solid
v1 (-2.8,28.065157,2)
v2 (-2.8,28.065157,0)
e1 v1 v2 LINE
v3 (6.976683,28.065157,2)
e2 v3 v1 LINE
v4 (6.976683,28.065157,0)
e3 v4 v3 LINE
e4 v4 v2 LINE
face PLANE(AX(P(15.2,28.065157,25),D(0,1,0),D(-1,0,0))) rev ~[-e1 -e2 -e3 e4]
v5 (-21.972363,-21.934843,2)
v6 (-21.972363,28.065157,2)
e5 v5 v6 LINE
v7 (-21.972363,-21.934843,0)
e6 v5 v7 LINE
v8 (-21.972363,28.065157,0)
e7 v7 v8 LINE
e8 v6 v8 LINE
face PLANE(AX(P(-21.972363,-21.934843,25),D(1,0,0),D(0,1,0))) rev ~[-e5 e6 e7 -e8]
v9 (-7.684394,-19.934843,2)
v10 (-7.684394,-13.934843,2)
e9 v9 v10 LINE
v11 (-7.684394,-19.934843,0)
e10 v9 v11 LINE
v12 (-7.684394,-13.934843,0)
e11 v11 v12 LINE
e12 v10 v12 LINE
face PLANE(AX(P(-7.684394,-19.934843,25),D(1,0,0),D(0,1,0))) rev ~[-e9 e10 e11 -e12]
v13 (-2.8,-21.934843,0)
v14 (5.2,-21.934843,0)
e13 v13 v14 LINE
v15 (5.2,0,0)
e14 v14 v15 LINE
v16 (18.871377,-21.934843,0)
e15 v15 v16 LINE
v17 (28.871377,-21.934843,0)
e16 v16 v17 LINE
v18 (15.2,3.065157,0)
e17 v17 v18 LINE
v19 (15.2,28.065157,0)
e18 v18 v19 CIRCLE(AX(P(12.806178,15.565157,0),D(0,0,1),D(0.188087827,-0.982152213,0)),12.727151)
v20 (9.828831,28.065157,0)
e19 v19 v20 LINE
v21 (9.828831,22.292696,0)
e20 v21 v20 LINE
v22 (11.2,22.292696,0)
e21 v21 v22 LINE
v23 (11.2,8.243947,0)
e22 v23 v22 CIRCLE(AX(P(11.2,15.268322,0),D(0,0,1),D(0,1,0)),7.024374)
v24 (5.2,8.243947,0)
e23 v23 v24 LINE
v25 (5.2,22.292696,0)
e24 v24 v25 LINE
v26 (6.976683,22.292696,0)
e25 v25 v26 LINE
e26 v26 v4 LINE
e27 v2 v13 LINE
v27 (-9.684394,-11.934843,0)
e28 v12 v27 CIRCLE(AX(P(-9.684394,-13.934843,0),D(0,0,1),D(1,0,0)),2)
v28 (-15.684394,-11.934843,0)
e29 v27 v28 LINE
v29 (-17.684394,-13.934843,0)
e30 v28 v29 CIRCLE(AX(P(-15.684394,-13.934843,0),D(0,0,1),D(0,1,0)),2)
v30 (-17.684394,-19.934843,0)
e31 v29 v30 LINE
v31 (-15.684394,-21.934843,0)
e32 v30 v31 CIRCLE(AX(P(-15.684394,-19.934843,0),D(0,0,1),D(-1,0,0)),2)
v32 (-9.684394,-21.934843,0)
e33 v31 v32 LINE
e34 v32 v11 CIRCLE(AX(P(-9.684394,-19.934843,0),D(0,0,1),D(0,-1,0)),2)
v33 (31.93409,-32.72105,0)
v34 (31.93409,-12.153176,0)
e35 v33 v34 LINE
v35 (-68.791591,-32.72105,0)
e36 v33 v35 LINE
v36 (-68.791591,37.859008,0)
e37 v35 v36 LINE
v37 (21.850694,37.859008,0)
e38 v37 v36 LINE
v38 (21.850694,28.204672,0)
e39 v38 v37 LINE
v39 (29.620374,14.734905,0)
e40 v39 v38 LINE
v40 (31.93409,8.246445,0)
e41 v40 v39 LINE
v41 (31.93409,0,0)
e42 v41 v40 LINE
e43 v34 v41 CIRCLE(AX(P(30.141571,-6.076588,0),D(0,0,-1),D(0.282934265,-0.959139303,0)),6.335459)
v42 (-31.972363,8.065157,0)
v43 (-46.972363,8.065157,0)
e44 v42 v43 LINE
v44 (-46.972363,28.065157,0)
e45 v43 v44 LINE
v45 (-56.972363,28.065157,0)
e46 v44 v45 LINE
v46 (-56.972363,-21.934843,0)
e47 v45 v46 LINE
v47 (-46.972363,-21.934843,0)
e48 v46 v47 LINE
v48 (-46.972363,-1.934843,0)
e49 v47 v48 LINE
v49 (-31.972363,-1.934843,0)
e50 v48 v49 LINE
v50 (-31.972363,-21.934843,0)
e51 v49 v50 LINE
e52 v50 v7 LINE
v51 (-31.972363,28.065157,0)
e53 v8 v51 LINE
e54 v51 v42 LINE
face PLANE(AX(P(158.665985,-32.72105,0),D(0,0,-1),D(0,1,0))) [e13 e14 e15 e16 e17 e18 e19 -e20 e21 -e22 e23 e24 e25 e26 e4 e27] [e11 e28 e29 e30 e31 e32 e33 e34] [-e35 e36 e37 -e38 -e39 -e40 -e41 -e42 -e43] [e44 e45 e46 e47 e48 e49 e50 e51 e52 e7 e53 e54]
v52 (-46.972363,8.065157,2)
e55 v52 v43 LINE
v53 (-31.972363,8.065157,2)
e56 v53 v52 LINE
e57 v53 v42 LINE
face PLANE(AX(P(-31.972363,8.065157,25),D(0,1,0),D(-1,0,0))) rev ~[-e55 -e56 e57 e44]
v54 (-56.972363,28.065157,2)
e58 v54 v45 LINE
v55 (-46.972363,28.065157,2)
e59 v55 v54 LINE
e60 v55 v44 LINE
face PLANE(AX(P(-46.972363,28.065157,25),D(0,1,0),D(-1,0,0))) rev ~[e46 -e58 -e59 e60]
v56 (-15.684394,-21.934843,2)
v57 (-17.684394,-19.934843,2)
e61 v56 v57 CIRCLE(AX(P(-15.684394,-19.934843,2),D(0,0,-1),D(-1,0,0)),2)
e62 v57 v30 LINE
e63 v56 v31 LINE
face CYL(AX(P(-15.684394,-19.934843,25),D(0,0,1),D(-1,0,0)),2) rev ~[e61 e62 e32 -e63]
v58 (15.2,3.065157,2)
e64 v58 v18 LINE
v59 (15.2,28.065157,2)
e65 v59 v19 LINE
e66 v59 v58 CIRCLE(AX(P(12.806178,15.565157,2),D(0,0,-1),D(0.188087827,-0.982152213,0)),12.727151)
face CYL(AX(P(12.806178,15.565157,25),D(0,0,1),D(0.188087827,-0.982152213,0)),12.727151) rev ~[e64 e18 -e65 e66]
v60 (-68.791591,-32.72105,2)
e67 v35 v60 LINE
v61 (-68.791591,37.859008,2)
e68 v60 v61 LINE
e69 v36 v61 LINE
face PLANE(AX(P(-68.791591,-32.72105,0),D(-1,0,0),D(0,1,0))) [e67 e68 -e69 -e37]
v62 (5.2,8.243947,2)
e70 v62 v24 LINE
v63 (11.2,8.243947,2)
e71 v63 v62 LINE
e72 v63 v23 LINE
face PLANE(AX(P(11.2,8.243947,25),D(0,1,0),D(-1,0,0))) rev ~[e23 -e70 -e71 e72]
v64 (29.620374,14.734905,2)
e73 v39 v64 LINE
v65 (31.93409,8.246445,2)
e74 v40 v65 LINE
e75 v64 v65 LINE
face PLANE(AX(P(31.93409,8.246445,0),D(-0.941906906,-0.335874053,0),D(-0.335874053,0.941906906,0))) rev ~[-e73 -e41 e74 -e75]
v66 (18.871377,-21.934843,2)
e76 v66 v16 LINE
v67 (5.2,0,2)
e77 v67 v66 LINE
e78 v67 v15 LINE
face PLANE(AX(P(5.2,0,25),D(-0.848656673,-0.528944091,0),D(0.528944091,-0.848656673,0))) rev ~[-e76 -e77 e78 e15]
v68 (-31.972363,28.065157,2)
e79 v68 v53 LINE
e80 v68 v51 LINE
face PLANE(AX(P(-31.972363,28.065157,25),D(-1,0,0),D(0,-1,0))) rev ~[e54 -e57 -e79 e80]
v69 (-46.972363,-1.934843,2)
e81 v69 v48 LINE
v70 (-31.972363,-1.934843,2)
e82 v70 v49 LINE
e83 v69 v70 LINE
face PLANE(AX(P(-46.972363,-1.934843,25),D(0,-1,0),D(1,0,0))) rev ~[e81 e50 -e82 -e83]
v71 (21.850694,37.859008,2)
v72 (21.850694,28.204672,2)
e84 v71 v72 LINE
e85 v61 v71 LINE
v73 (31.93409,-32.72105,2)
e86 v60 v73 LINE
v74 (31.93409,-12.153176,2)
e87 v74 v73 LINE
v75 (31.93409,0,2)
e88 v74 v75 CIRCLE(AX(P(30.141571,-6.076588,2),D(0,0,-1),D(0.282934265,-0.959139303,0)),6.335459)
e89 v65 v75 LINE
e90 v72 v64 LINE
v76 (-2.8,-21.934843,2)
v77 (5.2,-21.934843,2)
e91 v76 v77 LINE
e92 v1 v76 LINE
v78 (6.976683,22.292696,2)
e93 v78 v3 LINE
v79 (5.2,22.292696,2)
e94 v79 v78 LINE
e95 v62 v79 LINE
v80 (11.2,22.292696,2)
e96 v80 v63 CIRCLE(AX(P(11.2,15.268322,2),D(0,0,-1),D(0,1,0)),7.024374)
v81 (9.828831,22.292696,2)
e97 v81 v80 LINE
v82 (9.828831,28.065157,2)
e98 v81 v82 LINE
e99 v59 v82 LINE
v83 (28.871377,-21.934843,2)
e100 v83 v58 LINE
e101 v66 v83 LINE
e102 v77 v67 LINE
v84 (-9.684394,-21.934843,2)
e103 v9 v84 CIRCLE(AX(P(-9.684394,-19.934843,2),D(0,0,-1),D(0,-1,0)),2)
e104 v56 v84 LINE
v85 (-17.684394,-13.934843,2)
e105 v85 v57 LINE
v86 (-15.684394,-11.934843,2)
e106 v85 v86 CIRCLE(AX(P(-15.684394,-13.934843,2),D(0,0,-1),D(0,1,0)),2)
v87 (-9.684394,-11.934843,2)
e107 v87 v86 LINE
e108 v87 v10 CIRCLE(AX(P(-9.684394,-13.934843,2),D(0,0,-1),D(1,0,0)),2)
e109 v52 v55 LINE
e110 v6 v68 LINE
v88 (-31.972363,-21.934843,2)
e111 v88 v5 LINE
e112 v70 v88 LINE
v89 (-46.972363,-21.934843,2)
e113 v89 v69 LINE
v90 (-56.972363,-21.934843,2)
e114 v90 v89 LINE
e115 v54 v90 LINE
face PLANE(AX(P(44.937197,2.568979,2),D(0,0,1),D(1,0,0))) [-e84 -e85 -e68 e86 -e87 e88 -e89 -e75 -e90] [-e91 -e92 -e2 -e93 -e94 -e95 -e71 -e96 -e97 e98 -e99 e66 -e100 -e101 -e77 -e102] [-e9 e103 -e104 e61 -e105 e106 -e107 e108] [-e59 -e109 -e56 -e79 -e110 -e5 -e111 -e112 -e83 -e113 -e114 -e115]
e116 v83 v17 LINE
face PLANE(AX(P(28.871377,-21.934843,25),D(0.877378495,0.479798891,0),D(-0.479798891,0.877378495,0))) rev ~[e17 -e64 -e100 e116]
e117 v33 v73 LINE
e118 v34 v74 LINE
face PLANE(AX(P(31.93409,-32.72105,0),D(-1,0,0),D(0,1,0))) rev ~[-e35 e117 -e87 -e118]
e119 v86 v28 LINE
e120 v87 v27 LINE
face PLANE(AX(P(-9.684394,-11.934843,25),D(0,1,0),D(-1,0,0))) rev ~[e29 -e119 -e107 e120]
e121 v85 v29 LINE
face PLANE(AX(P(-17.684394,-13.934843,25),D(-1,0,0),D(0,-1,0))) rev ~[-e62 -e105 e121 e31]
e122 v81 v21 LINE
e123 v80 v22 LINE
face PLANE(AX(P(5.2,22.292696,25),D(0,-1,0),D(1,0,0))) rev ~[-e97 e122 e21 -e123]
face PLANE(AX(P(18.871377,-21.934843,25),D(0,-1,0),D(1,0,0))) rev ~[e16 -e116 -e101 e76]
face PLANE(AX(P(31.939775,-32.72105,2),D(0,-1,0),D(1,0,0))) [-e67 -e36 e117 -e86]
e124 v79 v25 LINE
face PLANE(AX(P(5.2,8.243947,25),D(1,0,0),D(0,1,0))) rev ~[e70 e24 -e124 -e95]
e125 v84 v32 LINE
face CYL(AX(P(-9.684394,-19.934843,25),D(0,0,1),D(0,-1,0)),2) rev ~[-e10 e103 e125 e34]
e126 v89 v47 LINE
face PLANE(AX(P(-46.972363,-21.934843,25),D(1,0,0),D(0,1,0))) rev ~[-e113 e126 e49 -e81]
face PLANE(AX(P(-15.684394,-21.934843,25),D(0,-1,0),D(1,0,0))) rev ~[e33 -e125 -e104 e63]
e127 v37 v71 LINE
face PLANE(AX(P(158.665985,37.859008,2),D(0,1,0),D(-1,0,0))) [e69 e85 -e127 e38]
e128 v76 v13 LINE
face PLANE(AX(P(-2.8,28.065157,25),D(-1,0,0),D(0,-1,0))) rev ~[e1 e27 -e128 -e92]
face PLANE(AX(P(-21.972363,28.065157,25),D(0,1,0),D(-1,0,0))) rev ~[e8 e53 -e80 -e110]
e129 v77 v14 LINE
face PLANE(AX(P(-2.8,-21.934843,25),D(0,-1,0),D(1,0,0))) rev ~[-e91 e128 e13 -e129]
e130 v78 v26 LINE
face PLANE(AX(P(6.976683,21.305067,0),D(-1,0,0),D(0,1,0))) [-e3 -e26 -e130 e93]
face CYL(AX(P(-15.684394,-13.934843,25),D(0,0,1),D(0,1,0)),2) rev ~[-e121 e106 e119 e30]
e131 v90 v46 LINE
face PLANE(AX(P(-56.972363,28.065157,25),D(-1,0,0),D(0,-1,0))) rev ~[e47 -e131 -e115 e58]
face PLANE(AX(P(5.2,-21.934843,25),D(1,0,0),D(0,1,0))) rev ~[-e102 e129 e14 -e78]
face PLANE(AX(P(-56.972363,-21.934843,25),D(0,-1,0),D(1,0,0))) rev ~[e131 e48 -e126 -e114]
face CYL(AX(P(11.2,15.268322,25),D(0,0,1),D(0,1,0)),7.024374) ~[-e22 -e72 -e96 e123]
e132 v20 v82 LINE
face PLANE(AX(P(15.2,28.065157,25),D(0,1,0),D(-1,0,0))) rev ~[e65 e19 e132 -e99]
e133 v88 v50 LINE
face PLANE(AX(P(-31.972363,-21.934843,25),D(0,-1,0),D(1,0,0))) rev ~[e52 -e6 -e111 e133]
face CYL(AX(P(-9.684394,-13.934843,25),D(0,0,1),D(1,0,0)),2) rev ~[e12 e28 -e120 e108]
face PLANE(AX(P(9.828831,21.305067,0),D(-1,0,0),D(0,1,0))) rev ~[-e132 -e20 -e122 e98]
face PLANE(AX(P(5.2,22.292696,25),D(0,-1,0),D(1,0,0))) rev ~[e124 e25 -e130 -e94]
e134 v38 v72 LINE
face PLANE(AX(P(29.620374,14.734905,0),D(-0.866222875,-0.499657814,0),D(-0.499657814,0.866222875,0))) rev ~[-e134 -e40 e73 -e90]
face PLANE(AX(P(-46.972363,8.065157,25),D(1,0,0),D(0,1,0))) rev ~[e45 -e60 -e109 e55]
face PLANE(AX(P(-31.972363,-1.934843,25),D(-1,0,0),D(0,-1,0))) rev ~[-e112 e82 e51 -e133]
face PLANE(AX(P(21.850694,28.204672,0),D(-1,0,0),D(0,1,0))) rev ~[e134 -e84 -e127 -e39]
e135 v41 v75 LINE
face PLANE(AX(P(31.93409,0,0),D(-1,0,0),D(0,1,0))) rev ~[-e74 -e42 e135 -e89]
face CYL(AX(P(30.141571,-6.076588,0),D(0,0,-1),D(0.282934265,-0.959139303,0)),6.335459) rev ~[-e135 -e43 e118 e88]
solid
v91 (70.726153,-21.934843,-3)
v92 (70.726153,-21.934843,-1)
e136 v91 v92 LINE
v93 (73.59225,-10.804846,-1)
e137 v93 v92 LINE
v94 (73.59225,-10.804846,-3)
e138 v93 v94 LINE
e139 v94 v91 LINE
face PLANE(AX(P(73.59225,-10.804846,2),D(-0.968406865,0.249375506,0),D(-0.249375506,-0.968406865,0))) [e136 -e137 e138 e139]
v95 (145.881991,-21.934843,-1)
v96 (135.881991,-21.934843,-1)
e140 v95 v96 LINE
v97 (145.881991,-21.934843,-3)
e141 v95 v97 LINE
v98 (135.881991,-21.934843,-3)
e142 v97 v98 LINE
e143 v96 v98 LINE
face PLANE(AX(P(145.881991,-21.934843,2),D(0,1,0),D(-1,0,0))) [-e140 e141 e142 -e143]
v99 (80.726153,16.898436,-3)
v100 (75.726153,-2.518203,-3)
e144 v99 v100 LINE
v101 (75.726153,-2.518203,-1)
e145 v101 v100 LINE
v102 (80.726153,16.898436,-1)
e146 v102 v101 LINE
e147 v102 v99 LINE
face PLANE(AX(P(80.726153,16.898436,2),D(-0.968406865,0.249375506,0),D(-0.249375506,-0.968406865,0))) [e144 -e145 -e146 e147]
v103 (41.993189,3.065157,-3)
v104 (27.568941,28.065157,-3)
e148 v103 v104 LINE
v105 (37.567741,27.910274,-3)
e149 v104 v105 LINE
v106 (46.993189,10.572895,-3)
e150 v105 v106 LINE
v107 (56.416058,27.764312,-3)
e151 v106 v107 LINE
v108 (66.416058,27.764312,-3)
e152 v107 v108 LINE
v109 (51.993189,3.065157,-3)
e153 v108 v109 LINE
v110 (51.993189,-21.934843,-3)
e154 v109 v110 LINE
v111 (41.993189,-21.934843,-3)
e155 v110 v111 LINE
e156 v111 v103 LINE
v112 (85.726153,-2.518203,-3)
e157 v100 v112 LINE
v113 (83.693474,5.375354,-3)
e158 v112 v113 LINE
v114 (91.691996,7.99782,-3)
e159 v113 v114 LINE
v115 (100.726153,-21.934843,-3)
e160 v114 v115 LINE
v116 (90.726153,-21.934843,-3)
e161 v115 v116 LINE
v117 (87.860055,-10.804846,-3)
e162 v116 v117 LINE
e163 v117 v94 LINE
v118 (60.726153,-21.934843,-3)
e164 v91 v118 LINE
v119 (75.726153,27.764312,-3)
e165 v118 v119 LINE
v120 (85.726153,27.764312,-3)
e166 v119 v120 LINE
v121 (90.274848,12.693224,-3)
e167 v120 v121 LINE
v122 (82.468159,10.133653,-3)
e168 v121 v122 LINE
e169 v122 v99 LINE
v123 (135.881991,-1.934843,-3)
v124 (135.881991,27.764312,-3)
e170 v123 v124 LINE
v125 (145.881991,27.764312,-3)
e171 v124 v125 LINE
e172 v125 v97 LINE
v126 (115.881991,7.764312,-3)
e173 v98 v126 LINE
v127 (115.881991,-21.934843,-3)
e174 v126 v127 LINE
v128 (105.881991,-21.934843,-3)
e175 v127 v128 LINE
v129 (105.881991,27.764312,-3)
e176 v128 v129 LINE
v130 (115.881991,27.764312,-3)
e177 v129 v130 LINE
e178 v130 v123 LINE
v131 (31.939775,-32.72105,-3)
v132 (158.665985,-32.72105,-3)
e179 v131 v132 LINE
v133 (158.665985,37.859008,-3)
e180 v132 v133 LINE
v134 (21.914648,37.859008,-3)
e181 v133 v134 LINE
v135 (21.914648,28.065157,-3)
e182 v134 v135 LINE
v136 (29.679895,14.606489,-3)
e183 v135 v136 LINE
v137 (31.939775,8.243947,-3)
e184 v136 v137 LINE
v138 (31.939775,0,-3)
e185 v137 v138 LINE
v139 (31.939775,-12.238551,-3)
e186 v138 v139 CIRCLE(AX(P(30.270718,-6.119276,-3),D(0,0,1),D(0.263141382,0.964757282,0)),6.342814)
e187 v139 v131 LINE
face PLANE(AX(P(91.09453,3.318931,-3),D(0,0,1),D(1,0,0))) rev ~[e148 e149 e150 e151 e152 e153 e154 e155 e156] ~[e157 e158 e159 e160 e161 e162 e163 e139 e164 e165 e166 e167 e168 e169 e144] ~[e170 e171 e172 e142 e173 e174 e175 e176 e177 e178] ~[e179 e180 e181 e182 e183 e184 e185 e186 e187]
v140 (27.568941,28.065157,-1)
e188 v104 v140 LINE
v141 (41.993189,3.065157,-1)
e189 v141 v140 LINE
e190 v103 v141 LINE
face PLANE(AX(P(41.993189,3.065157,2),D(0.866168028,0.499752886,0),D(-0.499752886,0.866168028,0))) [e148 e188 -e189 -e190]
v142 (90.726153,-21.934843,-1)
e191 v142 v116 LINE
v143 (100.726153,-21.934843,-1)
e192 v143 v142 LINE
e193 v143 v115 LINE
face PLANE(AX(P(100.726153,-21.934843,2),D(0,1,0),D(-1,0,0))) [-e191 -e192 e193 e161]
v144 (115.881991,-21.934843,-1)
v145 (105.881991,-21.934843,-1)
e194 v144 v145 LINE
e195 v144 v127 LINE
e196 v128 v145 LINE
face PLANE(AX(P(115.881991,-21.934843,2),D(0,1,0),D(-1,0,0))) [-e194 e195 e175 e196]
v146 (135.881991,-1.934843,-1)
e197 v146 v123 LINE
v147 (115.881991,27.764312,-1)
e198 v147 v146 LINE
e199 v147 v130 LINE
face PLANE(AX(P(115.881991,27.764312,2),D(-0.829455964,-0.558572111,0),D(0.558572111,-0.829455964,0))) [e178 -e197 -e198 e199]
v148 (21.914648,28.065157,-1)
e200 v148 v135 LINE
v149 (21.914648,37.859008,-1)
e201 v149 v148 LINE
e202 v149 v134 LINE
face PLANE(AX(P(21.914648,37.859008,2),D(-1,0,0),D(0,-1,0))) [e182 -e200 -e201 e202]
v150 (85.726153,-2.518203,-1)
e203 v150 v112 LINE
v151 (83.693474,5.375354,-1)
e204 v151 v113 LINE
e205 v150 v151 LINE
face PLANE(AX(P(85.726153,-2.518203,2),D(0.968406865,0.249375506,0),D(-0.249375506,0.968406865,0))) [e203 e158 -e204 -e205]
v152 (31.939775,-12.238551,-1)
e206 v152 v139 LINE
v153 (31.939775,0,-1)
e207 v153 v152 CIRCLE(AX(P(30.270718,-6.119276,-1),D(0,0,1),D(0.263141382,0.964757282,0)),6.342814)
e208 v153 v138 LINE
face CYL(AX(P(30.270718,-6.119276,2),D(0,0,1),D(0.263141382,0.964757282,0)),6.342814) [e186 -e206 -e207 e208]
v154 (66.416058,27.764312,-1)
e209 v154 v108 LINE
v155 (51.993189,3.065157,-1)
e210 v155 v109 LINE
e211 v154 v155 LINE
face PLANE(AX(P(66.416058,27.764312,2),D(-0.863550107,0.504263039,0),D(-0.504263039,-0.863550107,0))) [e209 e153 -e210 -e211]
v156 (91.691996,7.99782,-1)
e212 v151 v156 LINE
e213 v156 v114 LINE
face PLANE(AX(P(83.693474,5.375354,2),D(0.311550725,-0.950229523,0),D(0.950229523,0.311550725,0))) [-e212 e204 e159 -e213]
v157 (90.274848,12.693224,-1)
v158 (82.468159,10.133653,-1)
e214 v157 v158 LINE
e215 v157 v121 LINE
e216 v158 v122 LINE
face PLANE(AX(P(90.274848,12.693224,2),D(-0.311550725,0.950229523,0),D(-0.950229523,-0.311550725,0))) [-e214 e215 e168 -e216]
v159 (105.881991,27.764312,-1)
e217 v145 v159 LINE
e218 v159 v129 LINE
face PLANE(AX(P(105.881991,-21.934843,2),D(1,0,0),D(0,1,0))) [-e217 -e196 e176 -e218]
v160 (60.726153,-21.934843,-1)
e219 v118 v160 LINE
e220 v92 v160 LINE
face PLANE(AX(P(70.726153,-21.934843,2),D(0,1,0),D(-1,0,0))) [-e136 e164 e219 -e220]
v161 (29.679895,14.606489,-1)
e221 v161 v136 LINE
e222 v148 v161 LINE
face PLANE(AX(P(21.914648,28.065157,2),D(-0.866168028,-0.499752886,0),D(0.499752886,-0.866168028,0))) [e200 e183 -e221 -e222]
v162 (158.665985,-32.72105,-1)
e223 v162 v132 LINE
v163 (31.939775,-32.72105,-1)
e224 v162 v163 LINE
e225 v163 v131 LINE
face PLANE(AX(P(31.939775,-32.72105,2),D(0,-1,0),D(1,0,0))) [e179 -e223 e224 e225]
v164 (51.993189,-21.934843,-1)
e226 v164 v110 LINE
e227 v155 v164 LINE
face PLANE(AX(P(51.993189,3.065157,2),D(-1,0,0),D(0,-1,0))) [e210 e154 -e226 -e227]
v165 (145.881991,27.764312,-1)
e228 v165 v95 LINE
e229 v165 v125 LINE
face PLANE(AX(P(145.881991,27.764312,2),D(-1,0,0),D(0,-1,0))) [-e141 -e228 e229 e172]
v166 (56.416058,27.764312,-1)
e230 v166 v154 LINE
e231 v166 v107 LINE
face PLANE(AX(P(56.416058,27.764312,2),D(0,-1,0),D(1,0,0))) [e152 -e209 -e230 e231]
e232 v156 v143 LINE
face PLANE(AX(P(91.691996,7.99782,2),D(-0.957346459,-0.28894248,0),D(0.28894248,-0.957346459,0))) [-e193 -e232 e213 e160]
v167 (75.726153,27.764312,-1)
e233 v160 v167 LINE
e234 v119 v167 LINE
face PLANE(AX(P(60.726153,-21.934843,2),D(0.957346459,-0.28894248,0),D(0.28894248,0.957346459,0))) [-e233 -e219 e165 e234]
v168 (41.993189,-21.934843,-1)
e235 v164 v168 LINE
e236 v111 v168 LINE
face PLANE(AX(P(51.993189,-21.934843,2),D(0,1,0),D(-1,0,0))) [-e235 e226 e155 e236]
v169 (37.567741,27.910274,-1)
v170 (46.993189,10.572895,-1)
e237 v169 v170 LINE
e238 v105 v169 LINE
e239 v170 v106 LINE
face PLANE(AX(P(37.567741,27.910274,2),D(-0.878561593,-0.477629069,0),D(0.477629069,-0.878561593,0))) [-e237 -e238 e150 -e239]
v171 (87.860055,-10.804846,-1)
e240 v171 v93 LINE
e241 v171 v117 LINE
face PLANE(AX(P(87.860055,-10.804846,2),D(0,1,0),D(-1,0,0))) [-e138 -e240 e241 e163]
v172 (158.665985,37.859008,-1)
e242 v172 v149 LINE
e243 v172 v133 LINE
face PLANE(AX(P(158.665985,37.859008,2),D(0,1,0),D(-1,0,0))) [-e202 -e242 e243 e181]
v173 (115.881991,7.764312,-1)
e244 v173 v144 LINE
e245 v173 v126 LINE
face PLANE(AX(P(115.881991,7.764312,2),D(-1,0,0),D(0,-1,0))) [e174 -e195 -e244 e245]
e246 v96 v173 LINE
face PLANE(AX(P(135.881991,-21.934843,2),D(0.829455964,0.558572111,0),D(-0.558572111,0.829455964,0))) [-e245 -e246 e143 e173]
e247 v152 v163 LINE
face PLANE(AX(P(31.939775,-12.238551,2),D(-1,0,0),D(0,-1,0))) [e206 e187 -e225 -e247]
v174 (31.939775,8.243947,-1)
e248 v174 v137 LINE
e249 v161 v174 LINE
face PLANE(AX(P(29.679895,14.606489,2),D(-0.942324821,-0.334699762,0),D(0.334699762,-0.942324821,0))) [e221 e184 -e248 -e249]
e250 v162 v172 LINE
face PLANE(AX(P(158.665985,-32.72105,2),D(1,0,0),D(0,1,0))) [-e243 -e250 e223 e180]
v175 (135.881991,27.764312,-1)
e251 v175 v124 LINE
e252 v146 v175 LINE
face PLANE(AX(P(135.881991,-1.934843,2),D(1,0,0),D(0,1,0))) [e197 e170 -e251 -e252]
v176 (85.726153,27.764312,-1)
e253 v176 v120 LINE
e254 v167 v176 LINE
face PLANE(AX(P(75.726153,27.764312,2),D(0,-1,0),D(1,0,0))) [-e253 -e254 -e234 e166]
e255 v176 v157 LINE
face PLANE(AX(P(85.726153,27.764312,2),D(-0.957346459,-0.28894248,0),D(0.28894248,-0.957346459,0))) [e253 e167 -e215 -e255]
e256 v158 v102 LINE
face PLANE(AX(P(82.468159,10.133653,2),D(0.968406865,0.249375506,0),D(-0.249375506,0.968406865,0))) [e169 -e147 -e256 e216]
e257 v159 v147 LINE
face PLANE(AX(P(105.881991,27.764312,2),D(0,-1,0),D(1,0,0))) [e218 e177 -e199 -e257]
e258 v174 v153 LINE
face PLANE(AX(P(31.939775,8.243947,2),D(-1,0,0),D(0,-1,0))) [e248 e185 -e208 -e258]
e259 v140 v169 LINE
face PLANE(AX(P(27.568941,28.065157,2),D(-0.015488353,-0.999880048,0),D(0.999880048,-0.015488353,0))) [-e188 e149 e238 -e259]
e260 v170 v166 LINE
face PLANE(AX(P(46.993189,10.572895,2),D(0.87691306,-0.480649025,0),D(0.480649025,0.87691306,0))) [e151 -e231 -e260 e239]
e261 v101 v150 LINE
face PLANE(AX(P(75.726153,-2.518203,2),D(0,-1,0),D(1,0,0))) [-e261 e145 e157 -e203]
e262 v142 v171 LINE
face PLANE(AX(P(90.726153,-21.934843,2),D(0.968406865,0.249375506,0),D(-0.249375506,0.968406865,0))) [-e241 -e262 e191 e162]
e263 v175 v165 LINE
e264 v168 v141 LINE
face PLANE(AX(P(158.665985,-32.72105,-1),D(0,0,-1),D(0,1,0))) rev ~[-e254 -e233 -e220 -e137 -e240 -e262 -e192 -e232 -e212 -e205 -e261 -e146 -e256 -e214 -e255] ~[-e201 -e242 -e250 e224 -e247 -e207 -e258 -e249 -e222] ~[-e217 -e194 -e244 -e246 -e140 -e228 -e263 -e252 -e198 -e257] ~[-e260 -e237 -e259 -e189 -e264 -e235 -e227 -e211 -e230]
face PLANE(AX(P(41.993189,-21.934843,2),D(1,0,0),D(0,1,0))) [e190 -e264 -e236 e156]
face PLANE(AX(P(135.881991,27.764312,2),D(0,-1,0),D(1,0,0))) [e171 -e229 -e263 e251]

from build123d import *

# Parameters (mm, degrees)
F1_DEPTH  = 25
F4_W      = 227.4575755
F4_H      = 70.5800577998
F5_DEPTH  = 20
F6_DEPTH  = 60.1
F7_W      = 2.8521483764
F7_H      = 8.2712303847
F8_DEPTH  = 20
F9_DEPTH  = 18
F11_DEPTH = 5
F12_W     = 70.5800577998
F12_H     = 1
F13_DEPTH = 150.9
F15_DEPTH = 25


with BuildPart() as f1:
    # F0 (on Top) → F1 (new body)
    with BuildSketch(Plane.XY):
        Polygon((-46.9723631442, 28.0651573092), (-56.9723631442, 28.0651573092), (-56.9723631442, -21.9348426908), (-46.9723631442, -21.9348426908), (-46.9723631442, -1.9348426908), (-31.9723631442, -1.9348426908), (-31.9723631442, -21.9348426908), (-21.9723631442, -21.9348426908), (-21.9723631442, 28.0651573092), (-31.9723631442, 28.0651573092), (-31.9723631442, 8.0651573092), (-46.9723631442, 8.0651573092), align=None)
    extrude(amount=F1_DEPTH)



with BuildPart() as f1b:
    # F0 (on Top) → F1, piece 2 (new body)
    with BuildSketch(Plane.XY):
        with BuildLine():
            Line((10, 28.0651573092), (0, 28.0651573092))
            Line((0, 28.0651573092), (0, -21.9348426908))
            Line((0, -21.9348426908), (8, -21.9348426908))
            Line((8, -21.9348426908), (8, 0))
            Line((8, 0), (21.6713771224, -21.9348426908))
            Line((21.6713771224, -21.9348426908), (31.6713771224, -21.9348426908))
            Line((31.6713771224, -21.9348426908), (18, 3.0651573092))
            ThreePointArc((18, 3.0651573092), (28.3333292247, 15.5651573092), (18, 28.0651573092))
            Line((18, 28.0651573092), (10, 28.0651573092))
        make_face()
        with BuildLine():
            Line((14, 8.2439472899), (8, 8.2439472899))
            Line((8, 8.2439472899), (8, 22.2926959395))
            Line((8, 22.2926959395), (14, 22.2926959395))
            ThreePointArc((14, 22.2926959395), (21.0243743248, 15.2683216147), (14, 8.2439472899))
        make_face(mode=Mode.SUBTRACT)
    extrude(amount=F1_DEPTH)


with BuildPart() as f1c:
    # F0 (on Top) → F1, piece 3 (new body)
    with BuildSketch(Plane.XY):
        with BuildLine():
            ThreePointArc((-17.6843942031, -19.9348426908), (-17.0986077655, -21.3490562532), (-15.6843942031, -21.9348426908))
            Line((-15.6843942031, -21.9348426908), (-9.6843942031, -21.9348426908))
            ThreePointArc((-9.6843942031, -21.9348426908), (-8.2701806408, -21.3490562532), (-7.6843942031, -19.9348426908))
            Line((-7.6843942031, -19.9348426908), (-7.6843942031, -13.9348426908))
            ThreePointArc((-7.6843942031, -13.9348426908), (-8.2701806408, -12.5206291285), (-9.6843942031, -11.9348426908))
            Line((-9.6843942031, -11.9348426908), (-15.6843942031, -11.9348426908))
            ThreePointArc((-15.6843942031, -11.9348426908), (-17.0986077655, -12.5206291285), (-17.6843942031, -13.9348426908))
            Line((-17.6843942031, -13.9348426908), (-17.6843942031, -19.9348426908))
        make_face()
    extrude(amount=F1_DEPTH)


with BuildPart() as f1d:
    # F0 (on Top) → F1, piece 4 (new body)
    with BuildSketch(Plane.XY):
        Polygon((44.7931885719, 3.0651573092), (44.7931885719, -21.9348426908), (54.7931885719, -21.9348426908), (54.7931885719, 3.0651573092), (69.2160581468, 27.764311542), (59.2160581468, 27.764311542), (49.7931885719, 10.5728954077), (40.3677413874, 27.9102737799), (30.3689409047, 28.0651573092), align=None)
    extrude(amount=F1_DEPTH)


with BuildPart() as f1e:
    # F0 (on Top) → F1, piece 5 (new body)
    with BuildSketch(Plane.XY):
        Polygon((86.8261525035, 27.764311542), (71.8261525035, -21.9348426908), (81.8261525035, -21.9348426908), (84.6922499531, -10.8048464541), (98.9600550539, -10.8048464541), (101.8261525035, -21.9348426908), (111.8261525035, -21.9348426908), (96.8261525035, 27.764311542), (91.8261525035, 27.764311542), align=None)
        Polygon((86.8261525035, -2.5182031095), (91.8261525035, 16.8984364718), (96.8261525035, -2.5182031095), align=None, mode=Mode.SUBTRACT)
    extrude(amount=F1_DEPTH)


with BuildPart() as f1f:
    # F0 (on Top) → F1, piece 6 (new body)
    with BuildSketch(Plane.XY):
        Polygon((116.9819906354, 27.764311542), (116.9819906354, -21.9348426908), (126.9819906354, -21.9348426908), (126.9819906354, 7.764311542), (146.9819906354, -21.9348426908), (156.9819906354, -21.9348426908), (156.9819906354, 27.764311542), (146.9819906354, 27.764311542), (146.9819906354, -1.9348426908), (126.9819906354, 27.764311542), align=None)
    extrude(amount=F1_DEPTH)


with BuildPart() as f1e_1:
    # F2: moved
    add(f1e.part.moved(Location((-8.3, 0, 0))))


with BuildPart() as f1f_1:
    # F2: moved
    add(f1f.part.moved(Location((-8.3, 0, 0))))


with BuildPart() as f1d_1:
    # F3: moved
    add(f1d.part.moved(Location((-2.8, 0, 0))))


with BuildPart() as f1e_2:
    # F3: moved
    add(f1e_1.part.moved(Location((-2.8, 0, 0))))


with BuildPart() as f1f_2:
    # F3: moved
    add(f1f_1.part.moved(Location((-2.8, 0, 0))))


with BuildPart() as f1b_1:
    # F3: moved
    add(f1b.part.moved(Location((-2.8, 0, 0))))


with BuildPart() as f1_1:
    add(f1.part)

    add(f1b_1.part)  # F5 merges F1b

    add(f1c.part)  # F5 merges F1c

    add(f1d_1.part)  # F5 merges F1d

    add(f1e_2.part)  # F5 merges F1e

    add(f1f_2.part)  # F5 merges F1f
    # F4 (on Top) → F5 (join)
    with BuildSketch(Plane.XY):
        with Locations((44.937197119, 2.5689788163)):
            Rectangle(F4_W, F4_H)
    extrude(amount=F5_DEPTH)

    # F6 (cut): faces of the model
    f6_faces = [f1_1.faces().sort_by_distance(p)[0] for p in [
        (-39.4723631442, 3.0651573092, 25),
        (-12.6843942031, -16.9348426908, 25),
        (9.9555053028, 3.3304867819, 25),
        (46.9841841079, 7.0402084127, 25),
        (68.8369069767, 2.7303989527, 25),
        (125.8819906354, 2.9147344256, 25),
    ]]
    extrude(f6_faces, amount=-F6_DEPTH, mode=Mode.SUBTRACT)

    # F7 (on Top) → F8 (join)
    with BuildSketch(Plane.XY):
        with Locations((8.402756881, 25.4406826571)):
            Rectangle(F7_W, F7_H)
        Polygon((92.340439558, 13.3704673499), (81.9505527616, 9.963946417), (82.3234398778, 4.9261620448), (93.8680427637, 8.7112784915), align=None)
    extrude(amount=F8_DEPTH)

    # F9 (cut): a face of the model
    f9_faces = [f1_1.faces().sort_by_distance(p)[0] for p in [
        (44.937197119, 35.4774432469, 20),
    ]]
    extrude(f9_faces, amount=-F9_DEPTH, mode=Mode.SUBTRACT)

    # F10 (on face) → F11 (join)
    with BuildSketch(Plane.XY.offset(2)):
        with BuildLine():
            Line((158.665984869, 37.8590077162), (21.9146478921, 37.8590077162))
            Line((21.9146478921, 37.8590077162), (21.9146478921, 28.0651573092))
            Line((21.9146478921, 28.0651573092), (29.6798946739, 14.6064886823))
            Line((29.6798946739, 14.6064886823), (31.9397747517, 8.2439472899))
            Line((31.9397747517, 8.2439472899), (31.9397747517, 0))
            ThreePointArc((31.9397747517, 0), (23.9279042936, -6.1192756984), (31.9397747517, -12.2385513969))
            Line((31.9397747517, -12.2385513969), (31.9397747517, -32.7210500836))
            Line((31.9397747517, -32.7210500836), (158.665984869, -32.7210500836))
            Line((158.665984869, -32.7210500836), (158.665984869, 37.8590077162))
        make_face()
        Polygon((41.9931885719, -21.9348426908), (41.9931885719, 3.0651573092), (27.5689409047, 28.0651573092), (37.5677413874, 27.9102737799), (46.9931885719, 10.5728954077), (56.4160581468, 27.764311542), (66.4160581468, 27.764311542), (51.9931885719, 3.0651573092), (51.9931885719, -21.9348426908), align=None, mode=Mode.SUBTRACT)
        Polygon((70.7261525035, -21.9348426908), (60.7261525035, -21.9348426908), (75.7261525035, 27.764311542), (85.7261525035, 27.764311542), (90.2748478691, 12.6932240396), (82.4681591424, 10.1336534606), (80.7261525035, 16.8984364718), (75.7261525035, -2.5182031095), (85.7261525035, -2.5182031095), (83.6934740995, 5.3753536815), (91.6919958377, 7.9978203423), (100.7261525035, -21.9348426908), (90.7261525035, -21.9348426908), (87.8600550539, -10.8048464541), (73.5922499531, -10.8048464541), align=None, mode=Mode.SUBTRACT)
        Polygon((105.8819906354, -21.9348426908), (105.8819906354, 27.764311542), (115.8819906354, 27.764311542), (135.8819906354, -1.9348426908), (135.8819906354, 27.764311542), (145.8819906354, 27.764311542), (145.8819906354, -21.9348426908), (135.8819906354, -21.9348426908), (115.8819906354, 7.764311542), (115.8819906354, -21.9348426908), align=None, mode=Mode.SUBTRACT)
    extrude(amount=-F11_DEPTH)

    # F12 (on face) → F13 (cut)
    with BuildSketch(Plane.YZ.offset(158.665984869)):
        with Locations((2.5689788163, -0.5)):
            Rectangle(F12_W, F12_H)
    extrude(amount=-F13_DEPTH, mode=Mode.SUBTRACT)

    # F14 (on face) → F15 (cut)
    with BuildSketch(Plane(origin=(0, 0, 0), x_dir=(1, 0, 0), z_dir=(0, 0, -1))):
        with BuildLine():
            Line((21.8506939709, -28.2046720386), (21.8506939709, -37.8590077162))
            Line((21.8506939709, -37.8590077162), (158.665984869, -37.8590077162))
            Line((158.665984869, -37.8590077162), (158.665984869, 32.7210500836))
            Line((158.665984869, 32.7210500836), (31.9340899587, 32.7210500836))
            Line((31.9340899587, 32.7210500836), (31.9340899587, 12.1531756595))
            ThreePointArc((31.9340899587, 12.1531756595), (23.8061123839, 6.0765878297), (31.9340899587, 0))
            Line((31.9340899587, 0), (31.9340899587, -8.246445097))
            Line((31.9340899587, -8.246445097), (29.6203736216, -14.7349052131))
            Line((29.6203736216, -14.7349052131), (21.8506939709, -28.2046720386))
        make_face()
        Polygon((41.9931885719, -3.0651573092), (41.9931885719, 21.9348426908), (51.9931885719, 21.9348426908), (51.9931885719, -3.0651573092), (66.4160581468, -27.764311542), (56.4160581468, -27.764311542), (46.9931885719, -10.5728954077), (37.5677413874, -27.9102737799), (27.5689409047, -28.0651573092), align=None, mode=Mode.SUBTRACT)
        Polygon((60.7261525035, 21.9348426908), (70.7261525035, 21.9348426908), (73.5922499531, 10.8048464541), (87.8600550539, 10.8048464541), (90.7261525035, 21.9348426908), (100.7261525035, 21.9348426908), (91.6919958377, -7.9978203423), (83.6934740995, -5.3753536815), (85.7261525035, 2.5182031095), (75.7261525035, 2.5182031095), (80.7261525035, -16.8984364718), (82.4681591424, -10.1336534606), (90.2748478691, -12.6932240396), (85.7261525035, -27.764311542), (75.7261525035, -27.764311542), align=None, mode=Mode.SUBTRACT)
        Polygon((105.8819906354, -27.764311542), (105.8819906354, 21.9348426908), (115.8819906354, 21.9348426908), (115.8819906354, -7.764311542), (135.8819906354, 21.9348426908), (145.8819906354, 21.9348426908), (145.8819906354, -27.764311542), (135.8819906354, -27.764311542), (135.8819906354, 1.9348426908), (115.8819906354, -27.764311542), align=None, mode=Mode.SUBTRACT)
    extrude(amount=-F15_DEPTH, mode=Mode.SUBTRACT)


solid = f1_1.part
